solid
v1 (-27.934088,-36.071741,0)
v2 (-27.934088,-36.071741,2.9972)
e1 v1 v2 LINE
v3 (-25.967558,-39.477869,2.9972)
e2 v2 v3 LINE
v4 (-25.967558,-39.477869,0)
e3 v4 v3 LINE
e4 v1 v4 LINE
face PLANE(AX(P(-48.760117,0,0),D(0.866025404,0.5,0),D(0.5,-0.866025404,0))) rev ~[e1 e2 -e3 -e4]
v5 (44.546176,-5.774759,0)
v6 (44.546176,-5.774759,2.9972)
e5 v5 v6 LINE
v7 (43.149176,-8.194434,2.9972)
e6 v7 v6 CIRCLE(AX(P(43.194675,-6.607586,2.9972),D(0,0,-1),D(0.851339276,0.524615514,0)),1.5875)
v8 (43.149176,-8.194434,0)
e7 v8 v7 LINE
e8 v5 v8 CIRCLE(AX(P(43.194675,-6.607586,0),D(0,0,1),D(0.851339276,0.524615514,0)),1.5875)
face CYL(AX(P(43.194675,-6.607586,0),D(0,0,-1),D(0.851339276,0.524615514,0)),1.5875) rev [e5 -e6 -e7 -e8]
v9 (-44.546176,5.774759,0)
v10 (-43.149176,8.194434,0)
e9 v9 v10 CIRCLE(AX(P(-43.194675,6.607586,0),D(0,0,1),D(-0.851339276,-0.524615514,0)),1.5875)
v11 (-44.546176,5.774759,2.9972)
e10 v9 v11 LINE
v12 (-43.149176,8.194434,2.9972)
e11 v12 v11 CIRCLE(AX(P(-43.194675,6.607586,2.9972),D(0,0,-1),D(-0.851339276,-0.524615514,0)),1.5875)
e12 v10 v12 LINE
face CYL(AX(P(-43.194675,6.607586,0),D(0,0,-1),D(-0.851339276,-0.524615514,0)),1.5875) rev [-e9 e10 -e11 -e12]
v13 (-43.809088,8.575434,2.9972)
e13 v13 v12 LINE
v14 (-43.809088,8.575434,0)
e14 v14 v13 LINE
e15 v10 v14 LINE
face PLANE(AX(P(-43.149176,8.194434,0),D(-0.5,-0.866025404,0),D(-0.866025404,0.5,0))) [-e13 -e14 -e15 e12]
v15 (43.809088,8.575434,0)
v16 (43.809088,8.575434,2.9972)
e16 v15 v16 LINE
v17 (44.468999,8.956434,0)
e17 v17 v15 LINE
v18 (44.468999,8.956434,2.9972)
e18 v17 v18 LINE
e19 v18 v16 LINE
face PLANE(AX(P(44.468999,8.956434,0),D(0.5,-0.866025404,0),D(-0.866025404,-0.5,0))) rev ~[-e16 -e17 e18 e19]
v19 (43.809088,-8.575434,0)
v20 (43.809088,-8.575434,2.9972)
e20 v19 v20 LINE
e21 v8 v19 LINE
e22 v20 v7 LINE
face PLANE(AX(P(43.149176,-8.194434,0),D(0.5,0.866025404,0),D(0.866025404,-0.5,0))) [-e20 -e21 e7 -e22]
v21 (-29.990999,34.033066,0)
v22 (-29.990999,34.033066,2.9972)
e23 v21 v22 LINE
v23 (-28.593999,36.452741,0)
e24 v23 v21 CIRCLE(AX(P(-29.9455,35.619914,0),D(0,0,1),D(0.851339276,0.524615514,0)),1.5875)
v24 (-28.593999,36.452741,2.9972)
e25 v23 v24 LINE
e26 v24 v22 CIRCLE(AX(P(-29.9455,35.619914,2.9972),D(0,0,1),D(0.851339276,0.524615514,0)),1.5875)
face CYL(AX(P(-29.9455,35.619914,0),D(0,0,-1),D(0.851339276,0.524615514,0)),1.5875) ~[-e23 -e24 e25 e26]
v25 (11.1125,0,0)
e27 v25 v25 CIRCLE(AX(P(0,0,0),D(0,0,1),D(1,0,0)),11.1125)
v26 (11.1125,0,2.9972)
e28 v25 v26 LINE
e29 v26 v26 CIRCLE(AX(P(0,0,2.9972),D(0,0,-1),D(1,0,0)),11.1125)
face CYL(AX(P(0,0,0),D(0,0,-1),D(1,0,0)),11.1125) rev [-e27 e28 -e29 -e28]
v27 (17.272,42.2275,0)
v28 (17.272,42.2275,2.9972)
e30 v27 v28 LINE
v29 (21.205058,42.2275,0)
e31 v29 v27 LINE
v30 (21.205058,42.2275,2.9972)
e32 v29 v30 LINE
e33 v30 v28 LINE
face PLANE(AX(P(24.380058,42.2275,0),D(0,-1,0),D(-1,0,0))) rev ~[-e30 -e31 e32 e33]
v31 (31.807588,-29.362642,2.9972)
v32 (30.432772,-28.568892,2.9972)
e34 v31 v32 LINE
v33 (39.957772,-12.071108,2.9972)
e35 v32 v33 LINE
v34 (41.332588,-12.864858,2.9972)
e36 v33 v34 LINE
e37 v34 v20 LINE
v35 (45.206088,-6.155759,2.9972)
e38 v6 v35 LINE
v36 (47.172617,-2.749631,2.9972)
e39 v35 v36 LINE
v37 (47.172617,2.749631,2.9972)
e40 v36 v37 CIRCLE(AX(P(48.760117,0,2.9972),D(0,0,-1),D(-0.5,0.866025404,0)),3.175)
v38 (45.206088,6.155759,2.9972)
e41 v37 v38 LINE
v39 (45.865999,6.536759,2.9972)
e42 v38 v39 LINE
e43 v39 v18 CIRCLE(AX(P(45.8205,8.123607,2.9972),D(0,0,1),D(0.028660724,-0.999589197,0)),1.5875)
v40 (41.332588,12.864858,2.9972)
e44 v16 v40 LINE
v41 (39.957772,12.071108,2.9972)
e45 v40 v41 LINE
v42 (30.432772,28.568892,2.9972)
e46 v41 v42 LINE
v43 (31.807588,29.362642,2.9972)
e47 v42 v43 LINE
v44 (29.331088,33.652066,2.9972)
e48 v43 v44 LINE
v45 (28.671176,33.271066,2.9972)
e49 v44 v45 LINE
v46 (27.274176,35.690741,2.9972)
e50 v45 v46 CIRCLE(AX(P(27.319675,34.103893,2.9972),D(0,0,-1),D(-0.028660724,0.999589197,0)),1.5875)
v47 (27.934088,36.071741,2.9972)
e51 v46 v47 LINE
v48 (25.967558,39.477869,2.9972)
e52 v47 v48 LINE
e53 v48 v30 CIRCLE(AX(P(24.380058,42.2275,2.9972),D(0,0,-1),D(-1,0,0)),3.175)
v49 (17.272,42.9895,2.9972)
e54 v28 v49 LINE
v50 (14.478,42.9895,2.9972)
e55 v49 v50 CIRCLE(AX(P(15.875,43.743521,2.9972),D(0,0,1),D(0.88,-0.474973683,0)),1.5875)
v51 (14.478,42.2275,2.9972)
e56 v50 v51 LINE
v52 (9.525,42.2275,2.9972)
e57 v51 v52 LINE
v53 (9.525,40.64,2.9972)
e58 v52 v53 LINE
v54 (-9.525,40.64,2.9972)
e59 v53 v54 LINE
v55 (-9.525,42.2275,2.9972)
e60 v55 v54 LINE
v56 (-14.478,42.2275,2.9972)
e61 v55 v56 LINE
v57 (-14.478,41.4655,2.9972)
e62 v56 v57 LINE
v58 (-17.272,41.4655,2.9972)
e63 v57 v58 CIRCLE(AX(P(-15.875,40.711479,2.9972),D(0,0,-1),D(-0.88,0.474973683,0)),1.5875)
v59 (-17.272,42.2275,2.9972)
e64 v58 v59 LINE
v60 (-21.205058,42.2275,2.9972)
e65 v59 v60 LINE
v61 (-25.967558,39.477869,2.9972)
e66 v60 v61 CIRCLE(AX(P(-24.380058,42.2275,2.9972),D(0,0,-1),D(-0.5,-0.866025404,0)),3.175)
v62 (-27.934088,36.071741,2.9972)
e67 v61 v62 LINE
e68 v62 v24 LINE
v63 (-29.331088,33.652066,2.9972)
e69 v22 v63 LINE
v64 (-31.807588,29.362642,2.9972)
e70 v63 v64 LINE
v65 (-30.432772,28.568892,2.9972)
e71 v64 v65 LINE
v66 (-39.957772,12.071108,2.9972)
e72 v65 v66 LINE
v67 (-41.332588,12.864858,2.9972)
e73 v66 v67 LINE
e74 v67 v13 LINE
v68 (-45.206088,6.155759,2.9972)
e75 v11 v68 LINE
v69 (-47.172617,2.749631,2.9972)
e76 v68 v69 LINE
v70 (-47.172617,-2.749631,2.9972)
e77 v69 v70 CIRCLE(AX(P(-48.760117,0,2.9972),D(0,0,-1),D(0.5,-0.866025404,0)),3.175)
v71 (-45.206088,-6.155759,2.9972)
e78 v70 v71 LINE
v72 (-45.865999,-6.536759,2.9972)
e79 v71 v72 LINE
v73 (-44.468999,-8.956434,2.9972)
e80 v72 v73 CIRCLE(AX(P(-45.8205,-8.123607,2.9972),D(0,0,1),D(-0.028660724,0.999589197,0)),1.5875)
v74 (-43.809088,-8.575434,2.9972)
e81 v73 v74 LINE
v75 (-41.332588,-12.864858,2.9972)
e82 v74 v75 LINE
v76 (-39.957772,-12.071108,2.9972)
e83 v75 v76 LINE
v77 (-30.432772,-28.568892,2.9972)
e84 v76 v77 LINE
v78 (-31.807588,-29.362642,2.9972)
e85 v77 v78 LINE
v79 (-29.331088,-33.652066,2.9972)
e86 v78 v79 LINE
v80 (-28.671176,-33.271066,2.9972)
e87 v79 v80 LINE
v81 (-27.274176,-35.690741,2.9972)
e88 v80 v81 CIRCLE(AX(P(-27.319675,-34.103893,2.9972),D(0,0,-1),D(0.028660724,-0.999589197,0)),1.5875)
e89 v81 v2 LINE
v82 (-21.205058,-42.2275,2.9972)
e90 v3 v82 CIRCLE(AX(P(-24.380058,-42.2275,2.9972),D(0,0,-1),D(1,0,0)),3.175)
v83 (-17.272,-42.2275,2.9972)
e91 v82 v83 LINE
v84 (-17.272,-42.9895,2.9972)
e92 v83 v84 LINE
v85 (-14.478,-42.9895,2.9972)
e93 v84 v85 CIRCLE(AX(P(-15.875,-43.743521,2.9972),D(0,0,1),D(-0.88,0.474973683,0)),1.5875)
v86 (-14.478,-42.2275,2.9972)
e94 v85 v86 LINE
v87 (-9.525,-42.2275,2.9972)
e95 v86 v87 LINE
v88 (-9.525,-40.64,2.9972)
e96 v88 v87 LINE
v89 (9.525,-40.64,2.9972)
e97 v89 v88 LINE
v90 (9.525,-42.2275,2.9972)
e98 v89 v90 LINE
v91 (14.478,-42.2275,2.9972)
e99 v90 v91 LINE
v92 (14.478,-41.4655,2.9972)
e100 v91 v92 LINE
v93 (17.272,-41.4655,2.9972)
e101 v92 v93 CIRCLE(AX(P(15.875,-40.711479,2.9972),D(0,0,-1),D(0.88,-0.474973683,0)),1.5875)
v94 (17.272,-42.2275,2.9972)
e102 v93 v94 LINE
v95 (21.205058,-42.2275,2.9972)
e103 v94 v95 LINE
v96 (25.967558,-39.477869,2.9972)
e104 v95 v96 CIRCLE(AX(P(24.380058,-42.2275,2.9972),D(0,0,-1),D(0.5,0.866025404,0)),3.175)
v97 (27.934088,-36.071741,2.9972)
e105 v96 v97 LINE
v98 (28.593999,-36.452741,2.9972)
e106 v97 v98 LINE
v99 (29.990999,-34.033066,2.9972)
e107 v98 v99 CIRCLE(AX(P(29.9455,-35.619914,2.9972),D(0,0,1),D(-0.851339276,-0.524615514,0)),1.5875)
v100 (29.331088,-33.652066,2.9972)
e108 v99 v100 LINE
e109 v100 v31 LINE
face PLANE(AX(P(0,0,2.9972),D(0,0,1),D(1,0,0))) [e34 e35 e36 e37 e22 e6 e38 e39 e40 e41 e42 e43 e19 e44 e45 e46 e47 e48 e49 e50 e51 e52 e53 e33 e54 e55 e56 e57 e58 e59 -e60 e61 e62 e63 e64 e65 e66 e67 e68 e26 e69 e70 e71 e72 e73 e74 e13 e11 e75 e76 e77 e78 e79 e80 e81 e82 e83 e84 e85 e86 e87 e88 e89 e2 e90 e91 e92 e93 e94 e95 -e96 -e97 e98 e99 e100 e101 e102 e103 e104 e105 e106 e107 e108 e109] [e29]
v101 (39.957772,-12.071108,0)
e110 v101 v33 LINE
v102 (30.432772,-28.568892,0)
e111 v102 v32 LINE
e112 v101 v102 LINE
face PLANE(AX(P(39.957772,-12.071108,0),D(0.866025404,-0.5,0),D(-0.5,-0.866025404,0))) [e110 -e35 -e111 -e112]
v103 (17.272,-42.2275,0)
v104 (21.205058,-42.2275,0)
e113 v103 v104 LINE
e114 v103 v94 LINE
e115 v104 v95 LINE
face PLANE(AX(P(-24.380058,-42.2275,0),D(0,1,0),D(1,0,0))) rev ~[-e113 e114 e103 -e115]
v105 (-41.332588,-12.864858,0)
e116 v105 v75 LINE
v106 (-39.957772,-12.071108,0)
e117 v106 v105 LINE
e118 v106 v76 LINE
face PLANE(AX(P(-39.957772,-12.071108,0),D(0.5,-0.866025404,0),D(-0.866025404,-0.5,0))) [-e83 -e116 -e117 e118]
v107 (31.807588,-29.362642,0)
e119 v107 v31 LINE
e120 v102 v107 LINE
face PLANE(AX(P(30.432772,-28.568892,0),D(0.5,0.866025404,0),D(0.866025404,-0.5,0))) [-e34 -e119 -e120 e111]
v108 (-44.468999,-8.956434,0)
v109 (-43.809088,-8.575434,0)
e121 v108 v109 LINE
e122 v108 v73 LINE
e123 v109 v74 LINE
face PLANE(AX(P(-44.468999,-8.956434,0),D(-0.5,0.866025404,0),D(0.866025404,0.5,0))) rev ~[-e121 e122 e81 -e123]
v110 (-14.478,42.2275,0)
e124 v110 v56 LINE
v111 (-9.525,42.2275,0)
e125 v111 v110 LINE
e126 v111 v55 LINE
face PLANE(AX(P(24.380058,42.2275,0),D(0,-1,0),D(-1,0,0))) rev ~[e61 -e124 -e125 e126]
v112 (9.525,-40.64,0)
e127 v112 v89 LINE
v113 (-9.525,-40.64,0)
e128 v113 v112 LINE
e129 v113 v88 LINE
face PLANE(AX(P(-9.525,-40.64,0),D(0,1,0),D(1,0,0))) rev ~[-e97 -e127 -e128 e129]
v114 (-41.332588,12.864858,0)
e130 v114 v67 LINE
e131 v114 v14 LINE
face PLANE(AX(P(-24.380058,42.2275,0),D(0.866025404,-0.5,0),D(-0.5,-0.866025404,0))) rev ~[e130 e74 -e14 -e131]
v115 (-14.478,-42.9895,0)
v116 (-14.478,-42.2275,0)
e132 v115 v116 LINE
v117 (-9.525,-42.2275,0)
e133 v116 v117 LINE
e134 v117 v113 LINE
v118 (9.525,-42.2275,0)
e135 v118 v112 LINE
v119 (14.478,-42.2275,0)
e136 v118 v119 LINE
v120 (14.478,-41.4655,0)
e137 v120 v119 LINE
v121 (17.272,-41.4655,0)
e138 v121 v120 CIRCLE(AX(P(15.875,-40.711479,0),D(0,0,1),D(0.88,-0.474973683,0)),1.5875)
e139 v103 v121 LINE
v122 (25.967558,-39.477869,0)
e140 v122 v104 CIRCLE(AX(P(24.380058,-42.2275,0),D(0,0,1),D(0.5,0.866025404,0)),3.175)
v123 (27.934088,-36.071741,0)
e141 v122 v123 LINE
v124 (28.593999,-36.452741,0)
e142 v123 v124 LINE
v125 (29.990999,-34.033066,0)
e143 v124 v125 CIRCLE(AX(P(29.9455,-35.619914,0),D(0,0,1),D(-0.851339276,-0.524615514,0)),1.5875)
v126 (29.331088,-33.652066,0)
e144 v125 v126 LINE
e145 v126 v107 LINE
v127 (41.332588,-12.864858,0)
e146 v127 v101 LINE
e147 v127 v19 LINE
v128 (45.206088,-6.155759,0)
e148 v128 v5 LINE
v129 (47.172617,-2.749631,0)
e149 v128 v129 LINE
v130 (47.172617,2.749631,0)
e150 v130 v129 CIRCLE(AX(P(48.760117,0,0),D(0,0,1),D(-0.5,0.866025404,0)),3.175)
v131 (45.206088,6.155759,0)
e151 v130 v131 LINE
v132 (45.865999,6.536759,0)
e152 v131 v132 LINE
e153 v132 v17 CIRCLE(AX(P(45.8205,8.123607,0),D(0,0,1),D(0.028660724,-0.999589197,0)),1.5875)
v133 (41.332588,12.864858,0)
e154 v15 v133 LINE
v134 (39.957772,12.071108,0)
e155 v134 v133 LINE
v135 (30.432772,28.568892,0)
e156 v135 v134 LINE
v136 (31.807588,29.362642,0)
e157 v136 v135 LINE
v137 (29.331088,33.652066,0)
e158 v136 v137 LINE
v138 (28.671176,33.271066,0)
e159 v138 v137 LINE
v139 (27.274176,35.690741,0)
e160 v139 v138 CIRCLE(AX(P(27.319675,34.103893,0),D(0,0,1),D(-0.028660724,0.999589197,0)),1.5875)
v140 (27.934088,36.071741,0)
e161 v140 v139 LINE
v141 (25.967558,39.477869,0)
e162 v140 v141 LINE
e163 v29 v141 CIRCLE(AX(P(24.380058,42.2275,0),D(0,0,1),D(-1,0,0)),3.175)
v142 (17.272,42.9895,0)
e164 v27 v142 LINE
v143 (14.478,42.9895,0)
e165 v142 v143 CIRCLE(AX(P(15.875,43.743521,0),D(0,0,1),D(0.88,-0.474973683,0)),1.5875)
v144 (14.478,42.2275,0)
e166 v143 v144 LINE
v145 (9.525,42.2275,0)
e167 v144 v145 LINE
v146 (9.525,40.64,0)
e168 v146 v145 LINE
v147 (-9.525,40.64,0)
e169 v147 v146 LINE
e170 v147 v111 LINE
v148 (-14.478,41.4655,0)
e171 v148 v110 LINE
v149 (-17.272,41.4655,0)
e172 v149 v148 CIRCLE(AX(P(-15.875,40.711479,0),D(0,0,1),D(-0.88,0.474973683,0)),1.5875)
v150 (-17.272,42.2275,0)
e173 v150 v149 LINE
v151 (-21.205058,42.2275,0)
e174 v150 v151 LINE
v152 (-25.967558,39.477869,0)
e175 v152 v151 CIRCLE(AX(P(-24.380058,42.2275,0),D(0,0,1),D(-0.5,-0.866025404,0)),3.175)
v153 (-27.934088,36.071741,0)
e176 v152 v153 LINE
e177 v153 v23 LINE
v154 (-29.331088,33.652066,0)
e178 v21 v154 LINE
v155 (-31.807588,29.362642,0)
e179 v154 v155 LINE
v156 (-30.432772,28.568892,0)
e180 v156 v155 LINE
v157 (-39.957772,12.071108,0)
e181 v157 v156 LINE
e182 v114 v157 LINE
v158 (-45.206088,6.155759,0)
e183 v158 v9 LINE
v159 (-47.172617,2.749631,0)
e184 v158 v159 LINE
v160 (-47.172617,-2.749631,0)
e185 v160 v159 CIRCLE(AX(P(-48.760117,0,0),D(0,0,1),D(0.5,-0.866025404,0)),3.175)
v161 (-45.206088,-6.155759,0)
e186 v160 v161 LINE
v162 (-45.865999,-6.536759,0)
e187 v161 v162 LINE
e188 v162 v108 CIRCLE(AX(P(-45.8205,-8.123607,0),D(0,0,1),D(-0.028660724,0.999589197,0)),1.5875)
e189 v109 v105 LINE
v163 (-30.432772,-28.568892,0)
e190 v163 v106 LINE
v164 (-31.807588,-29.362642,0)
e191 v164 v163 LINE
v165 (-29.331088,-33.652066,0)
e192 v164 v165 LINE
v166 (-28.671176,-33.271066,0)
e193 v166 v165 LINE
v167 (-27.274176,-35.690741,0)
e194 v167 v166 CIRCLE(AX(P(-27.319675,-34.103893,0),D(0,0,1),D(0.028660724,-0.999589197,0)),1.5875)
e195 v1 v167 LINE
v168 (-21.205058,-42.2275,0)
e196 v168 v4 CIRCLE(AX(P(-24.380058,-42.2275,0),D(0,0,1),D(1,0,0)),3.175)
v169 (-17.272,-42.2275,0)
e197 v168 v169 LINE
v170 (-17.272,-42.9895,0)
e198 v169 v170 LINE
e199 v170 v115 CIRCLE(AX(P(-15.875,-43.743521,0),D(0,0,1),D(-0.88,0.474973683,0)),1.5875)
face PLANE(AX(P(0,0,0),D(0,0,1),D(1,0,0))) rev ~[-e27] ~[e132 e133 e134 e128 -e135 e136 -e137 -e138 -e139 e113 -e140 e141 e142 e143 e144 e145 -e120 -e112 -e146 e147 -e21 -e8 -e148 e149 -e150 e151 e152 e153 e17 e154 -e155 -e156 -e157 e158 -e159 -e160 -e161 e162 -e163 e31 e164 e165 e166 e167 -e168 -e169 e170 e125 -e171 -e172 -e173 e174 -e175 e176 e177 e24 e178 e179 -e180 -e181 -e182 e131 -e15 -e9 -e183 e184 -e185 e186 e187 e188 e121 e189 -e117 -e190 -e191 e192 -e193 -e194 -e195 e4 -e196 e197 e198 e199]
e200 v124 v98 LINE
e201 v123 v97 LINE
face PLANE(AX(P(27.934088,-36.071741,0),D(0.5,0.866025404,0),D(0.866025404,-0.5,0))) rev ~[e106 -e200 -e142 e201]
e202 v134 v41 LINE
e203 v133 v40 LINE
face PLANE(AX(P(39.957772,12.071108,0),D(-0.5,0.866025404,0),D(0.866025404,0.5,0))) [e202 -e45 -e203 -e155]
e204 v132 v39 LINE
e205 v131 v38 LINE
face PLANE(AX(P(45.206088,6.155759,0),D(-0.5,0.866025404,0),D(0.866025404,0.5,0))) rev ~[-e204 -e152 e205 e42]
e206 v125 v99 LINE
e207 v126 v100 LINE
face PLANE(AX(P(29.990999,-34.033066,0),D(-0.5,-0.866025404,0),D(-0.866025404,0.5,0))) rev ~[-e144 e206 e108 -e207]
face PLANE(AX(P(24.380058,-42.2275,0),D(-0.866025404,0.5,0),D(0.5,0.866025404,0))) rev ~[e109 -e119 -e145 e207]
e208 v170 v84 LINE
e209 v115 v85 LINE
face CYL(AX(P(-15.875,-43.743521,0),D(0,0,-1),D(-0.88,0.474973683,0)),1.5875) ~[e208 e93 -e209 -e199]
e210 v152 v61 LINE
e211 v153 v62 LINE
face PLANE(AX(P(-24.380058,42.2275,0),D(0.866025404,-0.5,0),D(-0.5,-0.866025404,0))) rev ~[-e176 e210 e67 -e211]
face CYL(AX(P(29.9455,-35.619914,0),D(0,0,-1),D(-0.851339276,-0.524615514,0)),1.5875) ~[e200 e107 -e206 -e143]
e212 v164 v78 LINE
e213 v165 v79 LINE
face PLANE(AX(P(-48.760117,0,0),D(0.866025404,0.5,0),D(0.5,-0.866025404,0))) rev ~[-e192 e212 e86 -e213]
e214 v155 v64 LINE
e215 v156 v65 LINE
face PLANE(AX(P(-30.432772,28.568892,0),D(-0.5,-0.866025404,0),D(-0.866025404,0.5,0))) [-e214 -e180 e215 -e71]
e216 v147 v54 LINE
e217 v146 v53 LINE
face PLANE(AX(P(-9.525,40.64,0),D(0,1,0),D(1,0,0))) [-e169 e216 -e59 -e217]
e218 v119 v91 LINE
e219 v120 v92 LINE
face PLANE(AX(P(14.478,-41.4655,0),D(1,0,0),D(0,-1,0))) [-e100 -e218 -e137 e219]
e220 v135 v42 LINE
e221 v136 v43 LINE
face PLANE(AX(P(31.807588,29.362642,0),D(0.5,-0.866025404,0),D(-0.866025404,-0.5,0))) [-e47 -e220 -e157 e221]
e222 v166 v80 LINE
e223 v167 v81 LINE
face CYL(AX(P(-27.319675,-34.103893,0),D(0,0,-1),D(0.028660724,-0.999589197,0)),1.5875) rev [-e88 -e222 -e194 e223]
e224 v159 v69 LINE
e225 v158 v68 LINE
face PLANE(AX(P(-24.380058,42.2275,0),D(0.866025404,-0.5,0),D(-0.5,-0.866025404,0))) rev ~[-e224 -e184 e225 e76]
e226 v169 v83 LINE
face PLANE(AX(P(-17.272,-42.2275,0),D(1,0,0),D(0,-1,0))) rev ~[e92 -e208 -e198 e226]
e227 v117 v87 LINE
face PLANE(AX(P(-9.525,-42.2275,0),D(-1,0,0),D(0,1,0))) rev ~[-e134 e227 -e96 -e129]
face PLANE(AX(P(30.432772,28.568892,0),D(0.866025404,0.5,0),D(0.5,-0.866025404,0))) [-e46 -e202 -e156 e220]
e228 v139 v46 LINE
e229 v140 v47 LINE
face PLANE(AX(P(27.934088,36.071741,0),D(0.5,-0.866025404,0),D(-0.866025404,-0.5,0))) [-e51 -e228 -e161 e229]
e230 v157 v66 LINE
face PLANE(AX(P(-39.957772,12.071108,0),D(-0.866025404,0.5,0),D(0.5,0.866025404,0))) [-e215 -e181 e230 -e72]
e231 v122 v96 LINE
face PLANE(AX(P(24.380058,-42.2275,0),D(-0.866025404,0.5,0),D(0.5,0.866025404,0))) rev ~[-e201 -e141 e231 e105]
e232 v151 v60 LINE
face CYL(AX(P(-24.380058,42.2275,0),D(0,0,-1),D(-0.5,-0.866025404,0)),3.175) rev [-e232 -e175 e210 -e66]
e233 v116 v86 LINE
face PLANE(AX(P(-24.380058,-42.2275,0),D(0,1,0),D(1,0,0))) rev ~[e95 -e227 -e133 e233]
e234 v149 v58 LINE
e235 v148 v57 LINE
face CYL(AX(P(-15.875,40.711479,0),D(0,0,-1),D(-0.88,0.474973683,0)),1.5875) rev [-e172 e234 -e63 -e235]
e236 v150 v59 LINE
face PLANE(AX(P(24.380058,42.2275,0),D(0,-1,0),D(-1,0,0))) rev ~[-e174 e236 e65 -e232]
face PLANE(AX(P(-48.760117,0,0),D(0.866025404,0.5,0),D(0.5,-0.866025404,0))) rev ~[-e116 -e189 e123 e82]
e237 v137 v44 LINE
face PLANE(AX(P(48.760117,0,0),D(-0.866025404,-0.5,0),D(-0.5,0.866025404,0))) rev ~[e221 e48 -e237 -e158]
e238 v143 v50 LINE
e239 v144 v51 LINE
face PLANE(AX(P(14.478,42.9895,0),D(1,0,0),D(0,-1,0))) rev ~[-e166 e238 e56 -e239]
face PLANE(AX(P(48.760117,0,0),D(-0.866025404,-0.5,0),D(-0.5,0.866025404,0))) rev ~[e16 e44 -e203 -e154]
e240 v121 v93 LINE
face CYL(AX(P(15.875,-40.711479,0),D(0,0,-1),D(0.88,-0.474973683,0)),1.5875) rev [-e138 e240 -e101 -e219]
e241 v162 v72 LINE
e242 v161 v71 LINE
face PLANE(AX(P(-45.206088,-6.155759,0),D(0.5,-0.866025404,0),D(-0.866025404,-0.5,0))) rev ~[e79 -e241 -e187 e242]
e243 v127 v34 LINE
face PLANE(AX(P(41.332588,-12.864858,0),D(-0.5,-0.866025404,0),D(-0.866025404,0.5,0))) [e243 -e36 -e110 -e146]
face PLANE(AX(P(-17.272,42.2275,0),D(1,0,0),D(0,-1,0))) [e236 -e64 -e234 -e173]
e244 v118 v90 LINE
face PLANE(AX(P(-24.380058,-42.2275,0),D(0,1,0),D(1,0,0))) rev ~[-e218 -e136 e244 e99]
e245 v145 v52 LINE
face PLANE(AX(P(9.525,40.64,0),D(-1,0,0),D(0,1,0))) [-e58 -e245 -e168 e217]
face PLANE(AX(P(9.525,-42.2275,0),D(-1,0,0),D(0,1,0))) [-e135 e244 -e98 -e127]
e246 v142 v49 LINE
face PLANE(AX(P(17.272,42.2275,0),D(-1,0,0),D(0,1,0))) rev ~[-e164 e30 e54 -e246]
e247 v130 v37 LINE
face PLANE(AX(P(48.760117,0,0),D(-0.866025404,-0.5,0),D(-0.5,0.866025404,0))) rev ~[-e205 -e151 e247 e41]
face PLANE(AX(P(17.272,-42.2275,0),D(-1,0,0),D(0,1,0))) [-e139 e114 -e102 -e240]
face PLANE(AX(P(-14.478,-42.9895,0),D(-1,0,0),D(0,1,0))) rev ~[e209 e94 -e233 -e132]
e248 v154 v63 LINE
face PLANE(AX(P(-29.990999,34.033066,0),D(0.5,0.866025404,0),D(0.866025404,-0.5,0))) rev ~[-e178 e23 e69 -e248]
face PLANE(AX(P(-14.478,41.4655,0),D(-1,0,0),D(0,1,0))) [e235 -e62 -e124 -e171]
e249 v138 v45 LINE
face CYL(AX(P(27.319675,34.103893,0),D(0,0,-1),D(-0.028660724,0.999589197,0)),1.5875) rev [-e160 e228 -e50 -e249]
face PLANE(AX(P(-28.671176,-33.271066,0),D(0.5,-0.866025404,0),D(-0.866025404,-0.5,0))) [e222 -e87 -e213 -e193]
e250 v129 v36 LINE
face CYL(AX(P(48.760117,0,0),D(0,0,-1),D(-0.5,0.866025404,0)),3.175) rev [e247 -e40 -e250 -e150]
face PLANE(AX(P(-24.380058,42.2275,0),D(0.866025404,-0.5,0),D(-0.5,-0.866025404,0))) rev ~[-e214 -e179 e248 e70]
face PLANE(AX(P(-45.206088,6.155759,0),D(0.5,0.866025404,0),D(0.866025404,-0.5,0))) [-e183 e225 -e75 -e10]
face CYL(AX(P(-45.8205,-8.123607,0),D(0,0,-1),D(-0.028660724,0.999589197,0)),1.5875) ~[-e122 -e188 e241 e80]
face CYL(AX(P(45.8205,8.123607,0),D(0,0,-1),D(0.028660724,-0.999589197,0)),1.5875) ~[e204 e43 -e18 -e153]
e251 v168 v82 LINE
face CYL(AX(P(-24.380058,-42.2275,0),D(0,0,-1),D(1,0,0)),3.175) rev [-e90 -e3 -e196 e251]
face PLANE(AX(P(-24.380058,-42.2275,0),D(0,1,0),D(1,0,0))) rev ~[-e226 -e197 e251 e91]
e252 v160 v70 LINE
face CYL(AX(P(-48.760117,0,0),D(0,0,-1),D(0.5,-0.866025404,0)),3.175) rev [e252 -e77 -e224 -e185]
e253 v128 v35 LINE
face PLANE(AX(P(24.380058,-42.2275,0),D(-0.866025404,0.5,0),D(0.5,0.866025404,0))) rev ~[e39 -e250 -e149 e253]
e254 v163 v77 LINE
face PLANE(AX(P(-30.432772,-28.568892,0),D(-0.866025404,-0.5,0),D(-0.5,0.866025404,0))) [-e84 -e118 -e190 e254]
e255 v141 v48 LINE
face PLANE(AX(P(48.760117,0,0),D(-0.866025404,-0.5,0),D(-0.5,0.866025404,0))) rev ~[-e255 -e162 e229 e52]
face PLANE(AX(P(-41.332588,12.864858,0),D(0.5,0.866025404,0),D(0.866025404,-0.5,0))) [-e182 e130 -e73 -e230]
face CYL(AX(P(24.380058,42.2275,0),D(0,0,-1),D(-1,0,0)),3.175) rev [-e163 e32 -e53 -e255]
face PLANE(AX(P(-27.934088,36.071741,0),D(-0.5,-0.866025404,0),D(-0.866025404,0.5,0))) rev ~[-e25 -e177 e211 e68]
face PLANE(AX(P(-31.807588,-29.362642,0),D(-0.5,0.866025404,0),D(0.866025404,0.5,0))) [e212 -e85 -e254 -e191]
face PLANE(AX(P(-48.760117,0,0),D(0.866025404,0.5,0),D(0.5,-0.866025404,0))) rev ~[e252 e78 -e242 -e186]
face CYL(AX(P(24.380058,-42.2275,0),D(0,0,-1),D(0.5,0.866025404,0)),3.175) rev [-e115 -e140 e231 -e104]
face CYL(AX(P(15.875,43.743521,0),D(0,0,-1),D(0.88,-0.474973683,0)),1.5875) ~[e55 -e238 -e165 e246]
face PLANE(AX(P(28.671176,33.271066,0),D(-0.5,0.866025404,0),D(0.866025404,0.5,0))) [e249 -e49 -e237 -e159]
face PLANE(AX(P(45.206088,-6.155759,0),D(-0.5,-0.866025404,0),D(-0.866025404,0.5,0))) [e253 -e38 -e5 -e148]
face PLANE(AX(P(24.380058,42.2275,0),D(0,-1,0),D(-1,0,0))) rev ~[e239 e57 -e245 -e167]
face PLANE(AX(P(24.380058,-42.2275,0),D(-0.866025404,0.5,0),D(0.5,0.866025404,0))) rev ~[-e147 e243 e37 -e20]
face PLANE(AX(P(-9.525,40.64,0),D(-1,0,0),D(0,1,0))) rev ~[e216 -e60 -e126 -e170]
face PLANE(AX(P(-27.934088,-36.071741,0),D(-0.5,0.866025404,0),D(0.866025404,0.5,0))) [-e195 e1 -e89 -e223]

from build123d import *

# Parameters (mm, degrees)
F1_DEPTH = 2.9972
F2_W     = 19.05
F2_H     = 1.5875
F2_R     = 11.1125
F3_DEPTH = 2.9982
F5_DEPTH = 2.9972


with BuildPart() as f1:
    # F0 (on Top) → F1 (new body)
    with BuildSketch(Plane.XY):
        Polygon((-24.3800584922, 42.2275), (-48.7601169844, 0), (-24.3800584922, -42.2275), (24.3800584922, -42.2275), (48.7601169844, 0), (24.3800584922, 42.2275), align=None)
    extrude(amount=F1_DEPTH)

    # F2 (on Top) → F3 (cut, through all)
    with BuildSketch(Plane.XY):
        with Locations((0, 41.43375)):
            Rectangle(F2_W, F2_H)
        with BuildLine():
            Line((-17.272, 42.2275), (-17.272, 41.4655))
            ThreePointArc((-17.272, 41.4655), (-15.875, 39.1239792775), (-14.478, 41.4655))
            Line((-14.478, 41.4655), (-14.478, 42.2275))
            Line((-14.478, 42.2275), (-17.272, 42.2275))
        make_face()
        with BuildLine():
            Line((-24.3800584922, 42.2275), (-25.9675584922, 39.477869343))
            ThreePointArc((-25.9675584922, 39.477869343), (-22.7925584922, 39.477869343), (-21.2050584922, 42.2275))
            Line((-21.2050584922, 42.2275), (-24.3800584922, 42.2275))
        make_face()
        Polygon((-31.8075877383, 29.362641971), (-41.3325877383, 12.864858029), (-39.9577724098, 12.071108029), (-30.4327724098, 28.568891971), align=None)
        with BuildLine():
            Line((-48.7601169844, 0), (-47.1726169844, -2.749630657))
            ThreePointArc((-47.1726169844, -2.749630657), (-45.5851169844, 0), (-47.1726169844, 2.749630657))
            Line((-47.1726169844, 2.749630657), (-48.7601169844, 0))
        make_face()
        with BuildLine():
            Line((-45.2060877383, 6.1557592258), (-44.5461763806, 5.7747592258))
            ThreePointArc((-44.5461763806, 5.7747592258), (-41.8198599514, 5.8138363537), (-43.1491763806, 8.194434204))
            Line((-43.1491763806, 8.194434204), (-43.8090877383, 8.575434204))
            Line((-43.8090877383, 8.575434204), (-45.2060877383, 6.1557592258))
        make_face()
        Polygon((-41.3325877383, -12.864858029), (-31.8075877383, -29.362641971), (-30.4327724098, -28.568891971), (-39.9577724098, -12.071108029), align=None)
        with BuildLine():
            Line((-24.3800584922, -42.2275), (-21.2050584922, -42.2275))
            ThreePointArc((-21.2050584922, -42.2275), (-22.7925584922, -39.477869343), (-25.9675584922, -39.477869343))
            Line((-25.9675584922, -39.477869343), (-24.3800584922, -42.2275))
        make_face()
        with BuildLine():
            Line((-27.9340877383, -36.0717407742), (-27.2741763806, -35.6907407742))
            ThreePointArc((-27.2741763806, -35.6907407742), (-25.9448599514, -33.3101429238), (-28.6711763806, -33.271065796))
            Line((-28.6711763806, -33.271065796), (-29.3310877383, -33.652065796))
            Line((-29.3310877383, -33.652065796), (-27.9340877383, -36.0717407742))
        make_face()
        with Locations((0, -41.43375)):
            Rectangle(F2_W, F2_H)
        with BuildLine():
            Line((24.3800584922, -42.2275), (25.9675584922, -39.477869343))
            ThreePointArc((25.9675584922, -39.477869343), (22.7925584922, -39.477869343), (21.2050584922, -42.2275))
            Line((21.2050584922, -42.2275), (24.3800584922, -42.2275))
        make_face()
        with BuildLine():
            Line((17.272, -42.2275), (17.272, -41.4655))
            ThreePointArc((17.272, -41.4655), (15.875, -39.1239792775), (14.478, -41.4655))
            Line((14.478, -41.4655), (14.478, -42.2275))
            Line((14.478, -42.2275), (17.272, -42.2275))
        make_face()
        Polygon((31.8075877383, -29.362641971), (41.3325877383, -12.864858029), (39.9577724098, -12.071108029), (30.4327724098, -28.568891971), align=None)
        with BuildLine():
            Line((48.7601169844, 0), (47.1726169844, 2.749630657))
            ThreePointArc((47.1726169844, 2.749630657), (45.5851169844, 0), (47.1726169844, -2.749630657))
            Line((47.1726169844, -2.749630657), (48.7601169844, 0))
        make_face()
        with BuildLine():
            Line((45.2060877383, -6.1557592258), (44.5461763806, -5.7747592258))
            ThreePointArc((44.5461763806, -5.7747592258), (41.8198599514, -5.8138363537), (43.1491763806, -8.194434204))
            Line((43.1491763806, -8.194434204), (43.8090877383, -8.575434204))
            Line((43.8090877383, -8.575434204), (45.2060877383, -6.1557592258))
        make_face()
        Polygon((41.3325877383, 12.864858029), (31.8075877383, 29.362641971), (30.4327724098, 28.568891971), (39.9577724098, 12.071108029), align=None)
        with BuildLine():
            Line((24.3800584922, 42.2275), (21.2050584922, 42.2275))
            ThreePointArc((21.2050584922, 42.2275), (22.7925584922, 39.477869343), (25.9675584922, 39.477869343))
            Line((25.9675584922, 39.477869343), (24.3800584922, 42.2275))
        make_face()
        with BuildLine():
            Line((27.9340877383, 36.0717407742), (27.2741763806, 35.6907407742))
            ThreePointArc((27.2741763806, 35.6907407742), (25.9448599514, 33.3101429238), (28.6711763806, 33.271065796))
            Line((28.6711763806, 33.271065796), (29.3310877383, 33.652065796))
            Line((29.3310877383, 33.652065796), (27.9340877383, 36.0717407742))
        make_face()
        Circle(F2_R)
    extrude(amount=F3_DEPTH, mode=Mode.SUBTRACT)

    # F4 (on Top) → F5 (join, through all)
    with BuildSketch(Plane.XY):
        with BuildLine():
            Line((17.272, 42.2275), (17.272, 42.9895))
            ThreePointArc((17.272, 42.9895), (15.875, 45.3310207225), (14.478, 42.9895))
            Line((14.478, 42.9895), (14.478, 42.2275))
            Line((14.478, 42.2275), (17.272, 42.2275))
        make_face()
        with BuildLine():
            Line((-29.990999096, 34.033065796), (-29.3310877383, 33.652065796))
            Line((-29.3310877383, 33.652065796), (-27.9340877383, 36.0717407742))
            Line((-27.9340877383, 36.0717407742), (-28.593999096, 36.4527407742))
            ThreePointArc((-28.593999096, 36.4527407742), (-31.3203155252, 36.4136636463), (-29.990999096, 34.033065796))
        make_face()
        with BuildLine():
            Line((-44.468999096, -8.956434204), (-43.8090877383, -8.575434204))
            Line((-43.8090877383, -8.575434204), (-45.2060877383, -6.1557592258))
            Line((-45.2060877383, -6.1557592258), (-45.865999096, -6.5367592258))
            ThreePointArc((-45.865999096, -6.5367592258), (-47.1953155252, -8.9173570762), (-44.468999096, -8.956434204))
        make_face()
        with BuildLine():
            Line((-14.478, -42.9895), (-14.478, -42.2275))
            Line((-14.478, -42.2275), (-17.272, -42.2275))
            Line((-17.272, -42.2275), (-17.272, -42.9895))
            ThreePointArc((-17.272, -42.9895), (-15.875, -45.3310207225), (-14.478, -42.9895))
        make_face()
        with BuildLine():
            Line((29.990999096, -34.033065796), (29.3310877383, -33.652065796))
            Line((29.3310877383, -33.652065796), (27.9340877383, -36.0717407742))
            Line((27.9340877383, -36.0717407742), (28.593999096, -36.4527407742))
            ThreePointArc((28.593999096, -36.4527407742), (31.3203155252, -36.4136636463), (29.990999096, -34.033065796))
        make_face()
        with BuildLine():
            Line((44.468999096, 8.956434204), (43.8090877383, 8.575434204))
            Line((43.8090877383, 8.575434204), (45.2060877383, 6.1557592258))
            Line((45.2060877383, 6.1557592258), (45.865999096, 6.5367592258))
            ThreePointArc((45.865999096, 6.5367592258), (47.1953155252, 8.9173570762), (44.468999096, 8.956434204))
        make_face()
    extrude(amount=F5_DEPTH)


solid = f1.part
